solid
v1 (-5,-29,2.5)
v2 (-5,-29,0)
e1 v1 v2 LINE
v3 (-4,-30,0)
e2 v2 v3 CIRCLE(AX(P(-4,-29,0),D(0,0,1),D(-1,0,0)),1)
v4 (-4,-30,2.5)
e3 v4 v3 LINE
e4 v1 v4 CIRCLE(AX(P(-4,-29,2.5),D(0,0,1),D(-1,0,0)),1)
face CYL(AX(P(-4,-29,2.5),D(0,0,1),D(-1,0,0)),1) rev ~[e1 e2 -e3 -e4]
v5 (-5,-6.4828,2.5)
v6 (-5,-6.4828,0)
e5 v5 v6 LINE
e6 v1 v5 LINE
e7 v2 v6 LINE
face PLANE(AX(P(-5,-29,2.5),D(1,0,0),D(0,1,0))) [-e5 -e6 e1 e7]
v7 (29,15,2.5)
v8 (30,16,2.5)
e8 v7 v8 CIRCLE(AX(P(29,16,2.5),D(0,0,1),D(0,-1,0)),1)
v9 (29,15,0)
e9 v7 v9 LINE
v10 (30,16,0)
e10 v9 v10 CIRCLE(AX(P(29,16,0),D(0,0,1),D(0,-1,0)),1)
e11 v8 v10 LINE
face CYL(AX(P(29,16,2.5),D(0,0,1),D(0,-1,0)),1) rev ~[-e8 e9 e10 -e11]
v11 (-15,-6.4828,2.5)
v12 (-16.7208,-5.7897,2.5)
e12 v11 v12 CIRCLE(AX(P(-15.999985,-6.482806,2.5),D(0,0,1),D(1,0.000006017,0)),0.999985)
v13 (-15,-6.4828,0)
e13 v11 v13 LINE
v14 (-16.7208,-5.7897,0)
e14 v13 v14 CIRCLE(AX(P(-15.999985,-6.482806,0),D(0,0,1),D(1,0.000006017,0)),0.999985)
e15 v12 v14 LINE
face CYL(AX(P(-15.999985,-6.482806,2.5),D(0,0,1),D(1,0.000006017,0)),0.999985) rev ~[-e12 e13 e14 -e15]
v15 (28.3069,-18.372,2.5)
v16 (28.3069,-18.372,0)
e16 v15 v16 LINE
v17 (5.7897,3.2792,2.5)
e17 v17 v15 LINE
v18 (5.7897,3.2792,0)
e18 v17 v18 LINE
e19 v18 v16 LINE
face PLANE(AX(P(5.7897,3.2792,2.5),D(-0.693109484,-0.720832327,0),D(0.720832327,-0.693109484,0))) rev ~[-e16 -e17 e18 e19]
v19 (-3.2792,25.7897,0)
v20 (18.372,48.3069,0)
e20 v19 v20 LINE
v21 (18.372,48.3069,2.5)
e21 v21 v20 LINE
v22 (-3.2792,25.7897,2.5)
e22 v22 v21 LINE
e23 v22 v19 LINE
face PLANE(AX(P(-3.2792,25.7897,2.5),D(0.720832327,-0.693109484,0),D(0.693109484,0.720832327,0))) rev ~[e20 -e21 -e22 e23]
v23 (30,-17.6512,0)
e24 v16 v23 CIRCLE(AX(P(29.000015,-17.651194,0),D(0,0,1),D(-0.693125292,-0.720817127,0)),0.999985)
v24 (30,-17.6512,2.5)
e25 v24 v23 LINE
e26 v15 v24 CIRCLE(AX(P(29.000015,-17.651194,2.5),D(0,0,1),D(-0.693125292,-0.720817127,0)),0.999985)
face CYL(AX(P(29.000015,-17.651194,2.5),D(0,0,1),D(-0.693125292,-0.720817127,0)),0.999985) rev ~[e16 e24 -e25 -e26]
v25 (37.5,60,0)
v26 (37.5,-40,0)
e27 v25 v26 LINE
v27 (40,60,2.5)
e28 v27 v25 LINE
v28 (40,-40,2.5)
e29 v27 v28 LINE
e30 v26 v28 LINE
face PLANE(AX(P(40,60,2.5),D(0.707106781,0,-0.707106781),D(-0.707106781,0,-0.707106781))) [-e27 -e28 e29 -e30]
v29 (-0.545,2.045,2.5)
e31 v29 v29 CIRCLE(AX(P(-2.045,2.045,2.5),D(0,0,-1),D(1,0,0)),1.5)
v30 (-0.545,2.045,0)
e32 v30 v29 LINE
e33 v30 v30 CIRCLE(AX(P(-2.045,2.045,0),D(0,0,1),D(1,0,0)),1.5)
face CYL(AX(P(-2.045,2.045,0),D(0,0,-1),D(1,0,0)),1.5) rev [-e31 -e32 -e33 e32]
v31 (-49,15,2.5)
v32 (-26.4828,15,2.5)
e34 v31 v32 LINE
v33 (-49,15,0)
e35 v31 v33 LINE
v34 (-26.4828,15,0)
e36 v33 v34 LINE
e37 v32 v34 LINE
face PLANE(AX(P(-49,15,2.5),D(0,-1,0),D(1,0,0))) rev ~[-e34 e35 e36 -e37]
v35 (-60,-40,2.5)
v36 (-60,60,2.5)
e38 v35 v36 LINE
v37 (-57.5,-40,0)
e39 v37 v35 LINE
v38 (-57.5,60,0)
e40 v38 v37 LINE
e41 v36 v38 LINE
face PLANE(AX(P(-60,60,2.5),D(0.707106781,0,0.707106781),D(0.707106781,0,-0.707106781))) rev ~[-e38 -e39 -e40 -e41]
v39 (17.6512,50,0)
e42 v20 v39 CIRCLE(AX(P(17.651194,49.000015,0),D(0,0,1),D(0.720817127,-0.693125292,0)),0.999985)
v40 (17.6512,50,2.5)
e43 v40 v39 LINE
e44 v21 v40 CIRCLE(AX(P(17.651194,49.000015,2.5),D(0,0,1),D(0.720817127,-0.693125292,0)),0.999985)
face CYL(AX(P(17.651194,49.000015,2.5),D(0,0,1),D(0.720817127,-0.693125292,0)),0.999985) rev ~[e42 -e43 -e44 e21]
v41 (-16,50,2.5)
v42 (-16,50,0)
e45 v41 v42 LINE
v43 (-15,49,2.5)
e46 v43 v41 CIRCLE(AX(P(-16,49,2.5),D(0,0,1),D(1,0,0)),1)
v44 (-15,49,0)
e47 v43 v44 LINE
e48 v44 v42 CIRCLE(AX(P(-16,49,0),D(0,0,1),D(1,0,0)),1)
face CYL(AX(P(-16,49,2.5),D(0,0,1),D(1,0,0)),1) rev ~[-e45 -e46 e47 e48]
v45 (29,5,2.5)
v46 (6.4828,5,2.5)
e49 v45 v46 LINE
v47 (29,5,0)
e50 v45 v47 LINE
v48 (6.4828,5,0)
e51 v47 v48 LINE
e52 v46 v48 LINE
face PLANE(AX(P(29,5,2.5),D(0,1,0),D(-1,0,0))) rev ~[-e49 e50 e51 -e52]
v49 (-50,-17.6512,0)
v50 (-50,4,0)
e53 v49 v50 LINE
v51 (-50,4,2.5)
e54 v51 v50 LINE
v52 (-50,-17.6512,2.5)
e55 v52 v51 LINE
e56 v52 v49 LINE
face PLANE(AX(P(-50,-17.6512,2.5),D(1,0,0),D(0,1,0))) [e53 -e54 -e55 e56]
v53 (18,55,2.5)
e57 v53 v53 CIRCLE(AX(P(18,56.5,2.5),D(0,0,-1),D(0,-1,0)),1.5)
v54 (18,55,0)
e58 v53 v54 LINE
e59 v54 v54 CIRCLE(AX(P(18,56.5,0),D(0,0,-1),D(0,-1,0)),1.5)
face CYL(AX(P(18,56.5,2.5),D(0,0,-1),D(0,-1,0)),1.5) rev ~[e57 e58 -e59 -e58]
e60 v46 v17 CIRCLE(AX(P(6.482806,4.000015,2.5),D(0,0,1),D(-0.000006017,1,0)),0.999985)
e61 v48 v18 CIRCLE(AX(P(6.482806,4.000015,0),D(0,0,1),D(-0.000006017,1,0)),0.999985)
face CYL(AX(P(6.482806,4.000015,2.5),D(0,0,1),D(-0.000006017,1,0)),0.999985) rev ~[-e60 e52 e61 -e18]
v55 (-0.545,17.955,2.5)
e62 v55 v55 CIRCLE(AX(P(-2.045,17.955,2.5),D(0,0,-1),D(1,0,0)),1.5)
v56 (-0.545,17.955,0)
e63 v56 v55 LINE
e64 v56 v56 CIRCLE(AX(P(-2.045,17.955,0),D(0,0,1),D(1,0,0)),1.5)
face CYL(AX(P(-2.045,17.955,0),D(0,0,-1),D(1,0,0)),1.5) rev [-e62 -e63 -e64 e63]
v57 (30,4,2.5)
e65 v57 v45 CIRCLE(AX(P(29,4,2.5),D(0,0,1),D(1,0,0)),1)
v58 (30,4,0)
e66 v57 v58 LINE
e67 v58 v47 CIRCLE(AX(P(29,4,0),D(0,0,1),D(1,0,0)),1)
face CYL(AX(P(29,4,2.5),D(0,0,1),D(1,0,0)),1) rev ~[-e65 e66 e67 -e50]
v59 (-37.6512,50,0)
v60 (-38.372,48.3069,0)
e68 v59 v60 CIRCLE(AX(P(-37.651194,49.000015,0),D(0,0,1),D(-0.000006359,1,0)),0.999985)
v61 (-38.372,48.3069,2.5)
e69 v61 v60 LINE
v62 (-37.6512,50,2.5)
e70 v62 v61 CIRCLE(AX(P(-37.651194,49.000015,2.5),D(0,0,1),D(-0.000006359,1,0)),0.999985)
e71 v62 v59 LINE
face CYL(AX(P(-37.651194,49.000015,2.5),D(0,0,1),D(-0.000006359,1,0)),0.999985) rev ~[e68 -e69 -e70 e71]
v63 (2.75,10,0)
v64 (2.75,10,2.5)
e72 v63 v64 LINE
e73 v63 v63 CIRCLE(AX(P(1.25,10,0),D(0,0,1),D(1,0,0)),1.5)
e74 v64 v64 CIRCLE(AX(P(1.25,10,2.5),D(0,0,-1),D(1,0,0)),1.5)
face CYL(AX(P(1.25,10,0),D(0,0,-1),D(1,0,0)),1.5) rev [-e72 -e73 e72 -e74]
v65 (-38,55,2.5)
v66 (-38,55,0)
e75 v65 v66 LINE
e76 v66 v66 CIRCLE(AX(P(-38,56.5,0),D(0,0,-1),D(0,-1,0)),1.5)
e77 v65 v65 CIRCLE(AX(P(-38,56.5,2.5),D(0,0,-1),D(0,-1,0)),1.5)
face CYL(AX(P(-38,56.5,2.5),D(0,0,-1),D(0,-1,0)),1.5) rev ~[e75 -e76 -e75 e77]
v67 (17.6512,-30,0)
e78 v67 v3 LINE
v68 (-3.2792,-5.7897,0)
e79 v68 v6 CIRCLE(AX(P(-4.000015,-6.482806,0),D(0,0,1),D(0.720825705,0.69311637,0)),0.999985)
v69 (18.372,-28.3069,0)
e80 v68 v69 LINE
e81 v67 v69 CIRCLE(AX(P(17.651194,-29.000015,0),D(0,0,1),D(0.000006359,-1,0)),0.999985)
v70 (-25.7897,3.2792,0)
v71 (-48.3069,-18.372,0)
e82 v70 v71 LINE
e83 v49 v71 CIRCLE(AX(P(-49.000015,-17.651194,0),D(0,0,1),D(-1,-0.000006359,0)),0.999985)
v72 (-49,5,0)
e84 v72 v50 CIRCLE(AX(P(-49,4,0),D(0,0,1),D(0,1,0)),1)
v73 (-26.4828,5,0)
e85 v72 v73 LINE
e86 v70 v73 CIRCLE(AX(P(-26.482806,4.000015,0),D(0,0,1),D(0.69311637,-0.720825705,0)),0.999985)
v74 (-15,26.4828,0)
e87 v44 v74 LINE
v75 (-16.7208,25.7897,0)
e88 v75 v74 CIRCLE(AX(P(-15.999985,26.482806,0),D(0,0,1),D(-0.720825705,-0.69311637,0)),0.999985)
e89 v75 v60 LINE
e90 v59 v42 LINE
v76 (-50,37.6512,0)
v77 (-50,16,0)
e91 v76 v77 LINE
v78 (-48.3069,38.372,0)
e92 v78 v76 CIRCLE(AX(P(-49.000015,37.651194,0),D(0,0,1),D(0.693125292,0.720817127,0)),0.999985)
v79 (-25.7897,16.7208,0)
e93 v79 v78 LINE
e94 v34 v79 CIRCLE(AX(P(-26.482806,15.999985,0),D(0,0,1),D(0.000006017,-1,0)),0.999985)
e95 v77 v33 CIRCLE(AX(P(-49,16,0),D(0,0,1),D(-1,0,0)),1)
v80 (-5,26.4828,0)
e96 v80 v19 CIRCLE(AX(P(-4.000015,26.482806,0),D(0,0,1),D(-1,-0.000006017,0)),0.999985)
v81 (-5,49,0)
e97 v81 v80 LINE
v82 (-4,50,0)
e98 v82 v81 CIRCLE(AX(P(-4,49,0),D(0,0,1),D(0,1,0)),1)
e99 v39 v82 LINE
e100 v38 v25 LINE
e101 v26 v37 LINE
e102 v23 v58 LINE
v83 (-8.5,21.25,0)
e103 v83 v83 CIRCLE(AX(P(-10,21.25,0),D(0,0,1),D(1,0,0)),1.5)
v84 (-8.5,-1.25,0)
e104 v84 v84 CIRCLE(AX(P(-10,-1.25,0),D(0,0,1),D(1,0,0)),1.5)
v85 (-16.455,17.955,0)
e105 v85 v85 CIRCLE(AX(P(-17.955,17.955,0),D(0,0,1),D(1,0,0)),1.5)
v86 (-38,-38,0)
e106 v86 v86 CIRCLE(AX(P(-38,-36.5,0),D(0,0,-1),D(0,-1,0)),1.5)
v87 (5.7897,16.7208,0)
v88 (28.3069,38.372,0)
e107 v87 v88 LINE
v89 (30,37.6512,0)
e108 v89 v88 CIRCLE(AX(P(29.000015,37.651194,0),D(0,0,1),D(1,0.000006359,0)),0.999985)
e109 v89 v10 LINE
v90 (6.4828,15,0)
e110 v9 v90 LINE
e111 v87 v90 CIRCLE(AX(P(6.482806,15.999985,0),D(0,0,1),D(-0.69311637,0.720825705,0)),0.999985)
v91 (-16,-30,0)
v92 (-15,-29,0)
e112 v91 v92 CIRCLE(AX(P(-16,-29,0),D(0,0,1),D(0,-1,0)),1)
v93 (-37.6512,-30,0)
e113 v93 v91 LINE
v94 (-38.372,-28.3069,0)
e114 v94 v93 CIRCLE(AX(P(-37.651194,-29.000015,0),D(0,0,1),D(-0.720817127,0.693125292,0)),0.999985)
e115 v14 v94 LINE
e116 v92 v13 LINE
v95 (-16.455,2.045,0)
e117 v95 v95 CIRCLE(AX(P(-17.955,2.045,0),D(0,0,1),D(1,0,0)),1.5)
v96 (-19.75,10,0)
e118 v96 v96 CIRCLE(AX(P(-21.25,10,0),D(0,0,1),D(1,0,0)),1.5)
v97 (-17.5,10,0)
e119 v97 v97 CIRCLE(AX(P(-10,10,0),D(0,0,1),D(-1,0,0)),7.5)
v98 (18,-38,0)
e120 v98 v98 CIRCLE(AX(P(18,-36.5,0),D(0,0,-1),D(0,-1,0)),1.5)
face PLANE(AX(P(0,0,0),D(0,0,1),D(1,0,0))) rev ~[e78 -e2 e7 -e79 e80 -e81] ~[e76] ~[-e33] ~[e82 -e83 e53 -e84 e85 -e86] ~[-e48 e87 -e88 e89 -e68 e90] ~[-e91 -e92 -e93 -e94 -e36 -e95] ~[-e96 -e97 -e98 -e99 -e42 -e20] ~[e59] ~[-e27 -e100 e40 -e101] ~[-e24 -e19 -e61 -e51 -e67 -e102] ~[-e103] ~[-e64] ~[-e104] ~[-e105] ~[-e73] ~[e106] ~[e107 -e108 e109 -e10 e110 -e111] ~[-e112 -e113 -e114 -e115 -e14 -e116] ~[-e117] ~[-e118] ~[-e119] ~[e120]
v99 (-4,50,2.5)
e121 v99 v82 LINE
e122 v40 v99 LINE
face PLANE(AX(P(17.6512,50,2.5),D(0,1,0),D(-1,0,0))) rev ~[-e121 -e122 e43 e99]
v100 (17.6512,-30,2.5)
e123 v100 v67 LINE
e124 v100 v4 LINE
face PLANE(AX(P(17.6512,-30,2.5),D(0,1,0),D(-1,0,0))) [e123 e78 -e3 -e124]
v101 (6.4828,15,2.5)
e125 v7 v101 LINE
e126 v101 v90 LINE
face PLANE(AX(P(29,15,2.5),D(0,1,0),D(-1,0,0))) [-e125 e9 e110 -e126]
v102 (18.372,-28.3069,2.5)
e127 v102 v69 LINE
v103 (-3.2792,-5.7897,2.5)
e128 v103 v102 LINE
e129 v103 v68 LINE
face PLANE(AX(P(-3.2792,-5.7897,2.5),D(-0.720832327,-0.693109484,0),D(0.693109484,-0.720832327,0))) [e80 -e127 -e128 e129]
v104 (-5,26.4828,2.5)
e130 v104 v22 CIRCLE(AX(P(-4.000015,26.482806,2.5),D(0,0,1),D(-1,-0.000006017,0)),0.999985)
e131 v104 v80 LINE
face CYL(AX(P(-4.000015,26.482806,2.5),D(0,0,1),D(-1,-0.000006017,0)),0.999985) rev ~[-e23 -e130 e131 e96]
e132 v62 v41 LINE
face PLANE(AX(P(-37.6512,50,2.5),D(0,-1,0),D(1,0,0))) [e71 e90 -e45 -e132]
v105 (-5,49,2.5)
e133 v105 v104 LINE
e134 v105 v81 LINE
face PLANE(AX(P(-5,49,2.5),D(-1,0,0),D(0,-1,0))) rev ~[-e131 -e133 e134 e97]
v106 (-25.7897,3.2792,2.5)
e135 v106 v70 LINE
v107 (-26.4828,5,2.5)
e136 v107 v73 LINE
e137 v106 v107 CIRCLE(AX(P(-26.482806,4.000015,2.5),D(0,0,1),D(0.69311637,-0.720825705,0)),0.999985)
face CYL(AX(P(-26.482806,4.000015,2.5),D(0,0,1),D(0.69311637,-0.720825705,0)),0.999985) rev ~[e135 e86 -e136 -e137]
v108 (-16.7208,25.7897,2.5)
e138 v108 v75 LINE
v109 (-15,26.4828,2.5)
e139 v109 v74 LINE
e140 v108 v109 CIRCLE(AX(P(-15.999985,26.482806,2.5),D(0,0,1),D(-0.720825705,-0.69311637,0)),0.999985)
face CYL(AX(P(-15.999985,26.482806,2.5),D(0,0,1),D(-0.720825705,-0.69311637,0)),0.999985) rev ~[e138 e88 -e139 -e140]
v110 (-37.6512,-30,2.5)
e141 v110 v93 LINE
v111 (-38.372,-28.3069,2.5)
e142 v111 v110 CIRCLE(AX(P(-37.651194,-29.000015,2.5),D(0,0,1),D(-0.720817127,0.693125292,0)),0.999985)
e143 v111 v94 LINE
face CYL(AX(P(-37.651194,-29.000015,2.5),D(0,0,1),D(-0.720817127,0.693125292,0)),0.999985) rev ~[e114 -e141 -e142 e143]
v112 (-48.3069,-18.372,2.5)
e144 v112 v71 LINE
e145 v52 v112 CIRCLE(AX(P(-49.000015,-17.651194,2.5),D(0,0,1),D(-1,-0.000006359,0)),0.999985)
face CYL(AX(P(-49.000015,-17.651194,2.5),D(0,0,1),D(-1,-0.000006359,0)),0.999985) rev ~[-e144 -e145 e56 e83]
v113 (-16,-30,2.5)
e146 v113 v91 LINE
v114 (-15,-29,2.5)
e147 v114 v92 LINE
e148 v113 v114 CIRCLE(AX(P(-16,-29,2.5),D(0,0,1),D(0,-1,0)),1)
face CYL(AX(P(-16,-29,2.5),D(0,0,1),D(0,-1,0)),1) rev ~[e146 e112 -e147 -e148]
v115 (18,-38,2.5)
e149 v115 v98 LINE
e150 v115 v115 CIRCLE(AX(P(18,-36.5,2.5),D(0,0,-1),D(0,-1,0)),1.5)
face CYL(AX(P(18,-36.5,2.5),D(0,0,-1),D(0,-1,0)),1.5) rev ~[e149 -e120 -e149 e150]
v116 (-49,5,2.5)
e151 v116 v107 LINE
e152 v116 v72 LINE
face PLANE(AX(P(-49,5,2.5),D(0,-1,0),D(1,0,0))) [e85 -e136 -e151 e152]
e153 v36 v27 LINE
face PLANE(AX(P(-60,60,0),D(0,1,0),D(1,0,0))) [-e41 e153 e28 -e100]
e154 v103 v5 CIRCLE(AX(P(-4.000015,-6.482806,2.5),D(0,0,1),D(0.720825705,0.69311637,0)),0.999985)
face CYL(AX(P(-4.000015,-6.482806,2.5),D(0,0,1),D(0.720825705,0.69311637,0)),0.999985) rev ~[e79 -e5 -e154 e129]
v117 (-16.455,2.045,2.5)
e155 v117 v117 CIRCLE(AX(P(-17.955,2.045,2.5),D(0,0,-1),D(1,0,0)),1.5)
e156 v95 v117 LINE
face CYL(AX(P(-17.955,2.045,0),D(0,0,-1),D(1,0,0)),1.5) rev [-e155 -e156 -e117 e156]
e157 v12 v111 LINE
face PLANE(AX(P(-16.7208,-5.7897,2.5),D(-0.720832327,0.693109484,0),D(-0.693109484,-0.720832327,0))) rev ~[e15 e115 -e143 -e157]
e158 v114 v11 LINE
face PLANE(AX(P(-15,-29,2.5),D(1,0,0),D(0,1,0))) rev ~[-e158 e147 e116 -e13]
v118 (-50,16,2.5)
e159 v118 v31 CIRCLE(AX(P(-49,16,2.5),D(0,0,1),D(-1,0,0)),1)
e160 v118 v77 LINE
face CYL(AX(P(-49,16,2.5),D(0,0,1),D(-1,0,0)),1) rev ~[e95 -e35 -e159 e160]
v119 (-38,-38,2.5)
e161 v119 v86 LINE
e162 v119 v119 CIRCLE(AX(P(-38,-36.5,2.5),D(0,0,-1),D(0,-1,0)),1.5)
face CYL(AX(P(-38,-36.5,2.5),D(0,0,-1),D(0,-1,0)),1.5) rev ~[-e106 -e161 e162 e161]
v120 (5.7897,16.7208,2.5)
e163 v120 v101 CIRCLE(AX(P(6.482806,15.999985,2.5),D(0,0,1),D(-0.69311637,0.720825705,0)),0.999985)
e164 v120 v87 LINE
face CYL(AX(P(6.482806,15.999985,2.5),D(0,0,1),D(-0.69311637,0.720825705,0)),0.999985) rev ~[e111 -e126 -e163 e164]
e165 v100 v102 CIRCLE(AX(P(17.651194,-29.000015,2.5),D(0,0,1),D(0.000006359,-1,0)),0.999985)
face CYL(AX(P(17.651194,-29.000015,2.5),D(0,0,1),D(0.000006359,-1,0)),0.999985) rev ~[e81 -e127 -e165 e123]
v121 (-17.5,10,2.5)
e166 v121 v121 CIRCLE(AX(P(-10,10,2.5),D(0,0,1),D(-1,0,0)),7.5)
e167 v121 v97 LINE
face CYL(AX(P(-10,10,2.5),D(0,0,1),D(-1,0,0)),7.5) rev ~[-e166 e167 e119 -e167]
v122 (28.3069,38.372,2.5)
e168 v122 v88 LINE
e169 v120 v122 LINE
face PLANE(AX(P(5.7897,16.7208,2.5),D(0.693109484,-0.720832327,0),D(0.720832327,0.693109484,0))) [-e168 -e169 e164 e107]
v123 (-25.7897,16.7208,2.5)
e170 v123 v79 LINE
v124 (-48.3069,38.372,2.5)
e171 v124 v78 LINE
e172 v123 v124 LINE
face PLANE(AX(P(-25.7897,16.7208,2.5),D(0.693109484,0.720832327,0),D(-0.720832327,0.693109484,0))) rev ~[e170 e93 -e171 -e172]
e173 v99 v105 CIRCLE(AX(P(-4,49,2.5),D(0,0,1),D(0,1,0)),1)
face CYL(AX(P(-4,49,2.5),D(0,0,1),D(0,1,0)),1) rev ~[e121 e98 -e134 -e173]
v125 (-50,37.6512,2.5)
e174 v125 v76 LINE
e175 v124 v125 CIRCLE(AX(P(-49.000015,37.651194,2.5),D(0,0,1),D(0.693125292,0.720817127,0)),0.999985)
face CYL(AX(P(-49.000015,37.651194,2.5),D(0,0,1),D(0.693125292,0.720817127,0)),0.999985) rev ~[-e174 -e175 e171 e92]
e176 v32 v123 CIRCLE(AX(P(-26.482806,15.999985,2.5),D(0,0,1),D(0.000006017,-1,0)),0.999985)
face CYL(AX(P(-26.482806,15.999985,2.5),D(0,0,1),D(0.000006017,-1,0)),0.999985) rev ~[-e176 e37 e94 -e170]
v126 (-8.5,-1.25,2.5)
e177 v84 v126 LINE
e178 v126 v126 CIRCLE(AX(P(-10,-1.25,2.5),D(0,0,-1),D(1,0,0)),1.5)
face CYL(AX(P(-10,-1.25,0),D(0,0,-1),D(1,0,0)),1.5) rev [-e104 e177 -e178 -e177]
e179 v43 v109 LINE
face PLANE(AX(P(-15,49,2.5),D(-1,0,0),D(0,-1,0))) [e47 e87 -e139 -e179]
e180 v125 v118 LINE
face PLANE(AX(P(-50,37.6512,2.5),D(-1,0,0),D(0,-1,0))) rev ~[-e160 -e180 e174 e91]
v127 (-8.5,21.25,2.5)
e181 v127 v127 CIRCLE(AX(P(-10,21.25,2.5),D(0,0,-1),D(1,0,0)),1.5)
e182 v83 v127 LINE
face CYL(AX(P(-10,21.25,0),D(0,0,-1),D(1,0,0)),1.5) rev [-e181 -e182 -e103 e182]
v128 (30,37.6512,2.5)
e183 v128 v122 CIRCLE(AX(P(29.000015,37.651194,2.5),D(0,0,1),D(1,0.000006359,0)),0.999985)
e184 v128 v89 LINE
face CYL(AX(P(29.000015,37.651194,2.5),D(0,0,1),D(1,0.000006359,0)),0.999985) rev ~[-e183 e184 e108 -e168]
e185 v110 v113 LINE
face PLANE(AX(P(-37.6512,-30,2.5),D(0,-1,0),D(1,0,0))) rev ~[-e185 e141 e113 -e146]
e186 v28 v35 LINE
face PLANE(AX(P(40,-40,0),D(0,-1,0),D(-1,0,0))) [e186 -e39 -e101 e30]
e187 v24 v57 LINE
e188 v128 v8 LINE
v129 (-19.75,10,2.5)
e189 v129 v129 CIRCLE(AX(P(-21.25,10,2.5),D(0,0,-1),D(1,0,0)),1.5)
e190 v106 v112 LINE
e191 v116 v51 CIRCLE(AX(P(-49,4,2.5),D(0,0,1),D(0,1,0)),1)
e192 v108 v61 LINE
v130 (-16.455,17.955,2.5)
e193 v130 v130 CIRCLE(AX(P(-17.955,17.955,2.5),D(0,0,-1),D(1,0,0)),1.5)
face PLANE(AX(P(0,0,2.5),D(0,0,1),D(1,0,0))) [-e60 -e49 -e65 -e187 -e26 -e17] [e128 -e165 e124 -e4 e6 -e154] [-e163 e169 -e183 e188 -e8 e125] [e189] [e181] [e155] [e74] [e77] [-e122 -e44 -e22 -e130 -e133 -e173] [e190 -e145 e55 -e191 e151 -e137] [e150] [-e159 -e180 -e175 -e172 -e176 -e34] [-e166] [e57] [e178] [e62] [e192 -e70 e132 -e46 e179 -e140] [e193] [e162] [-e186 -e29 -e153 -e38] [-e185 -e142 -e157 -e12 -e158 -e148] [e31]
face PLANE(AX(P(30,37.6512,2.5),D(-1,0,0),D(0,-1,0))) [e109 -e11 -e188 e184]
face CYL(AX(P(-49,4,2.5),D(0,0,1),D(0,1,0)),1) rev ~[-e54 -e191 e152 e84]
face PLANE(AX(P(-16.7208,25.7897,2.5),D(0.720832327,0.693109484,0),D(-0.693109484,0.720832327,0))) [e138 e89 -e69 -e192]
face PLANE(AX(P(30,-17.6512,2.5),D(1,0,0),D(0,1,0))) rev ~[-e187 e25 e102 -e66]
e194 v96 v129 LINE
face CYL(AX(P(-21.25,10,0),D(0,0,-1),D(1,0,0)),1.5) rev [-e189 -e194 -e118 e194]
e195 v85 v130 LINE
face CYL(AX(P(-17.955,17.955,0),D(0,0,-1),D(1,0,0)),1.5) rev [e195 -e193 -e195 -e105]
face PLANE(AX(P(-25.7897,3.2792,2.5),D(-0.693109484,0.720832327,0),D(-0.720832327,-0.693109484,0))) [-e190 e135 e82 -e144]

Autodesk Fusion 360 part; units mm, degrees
sketch "Sketch1" plane through (0, 0, 0) normal (0, 0, 1) x (1, 0, 0)
  line L0 (40, -40) -> (-60, -40)
  line L1 (-60, -40) -> (-60, 60)
  line L2 (-60, 60) -> (40, 60)
  line L3 (40, 60) -> (40, -40)
  dimension "d1" = 100
  dimension "d2" = 100
extrude "Extrude1" add sketch "Sketch1" along normal blind 2.5
sketch "Sketch2" plane through (0, 0, 2.5) normal (0, 0, 1) x (-1, 0, 0)
  line L0 (-40, -60) -> (60, -60)
  line L1 (60, -60) -> (60, 40)
  line L2 (60, 40) -> (-40, 40)
  line L3 (-40, 40) -> (-40, -60)
  point P0 (44.5, -10)
  point P1 (38, 36.5)
  point P2 (10, 36.5)
  point P3 (-18, 36.5)
  point P4 (-24.5, -10)
  point P5 (38, -56.5)
  point P6 (10, -56.5)
  point P7 (-18, -56.5)
  dimension "d7" = 50
  dimension "d11" = 50
  dimension "d12" = 28
  dimension "d13" = 28
  dimension "d14" = 3.5
  dimension "d15" = 3.5
  dimension "d16" = 3.5
  dimension "d17" = 50
  dimension "d25" = 50
  dimension "d26" = 28
  dimension "d27" = 28
  dimension "d28" = 3.5
  dimension "d29" = 3.5
  dimension "d30" = 3.5
  dimension "d34" = 15.5
  dimension "d35" = 15.5
hole "Hole1" at (-38, 56.5, 2.5) at (18, 56.5, 2.5) at (18, -36.5, 2.5) at (-38, -36.5, 2.5) direction (0, 0, -1) diameter 3 depth 10 tip angle 118
sketch "Sketch3" plane through (0, 0, 2.5) normal (0, 0, 1) x (-1, 0, 0)
  circle A0 centre (-18, 36.5) radius 1.5
  circle A1 centre (38, -56.5) radius 1.5
  circle A2 centre (-18, -56.5) radius 1.5
  circle A3 centre (38, 36.5) radius 1.5
  line L0 (-40, -60) -> (60, -60)
  line L1 (60, -60) -> (60, 40)
  line L2 (60, 40) -> (-40, 40)
  line L3 (-40, 40) -> (-40, -60)
  circle A4 centre (10, -10) radius 7.5
  dimension "d36" = 15
extrude "Extrude2" cut sketch "Sketch3" against normal blind 2.5 contours A4
sketch "Sketch4" plane through (0, 0, 0) normal (0, 0, 1) x (1, 0, 0)
  circle A0 centre (-10, 10) radius 15
  circle A1 centre (-10, 10) radius 7.5
  circle A2 centre (-10, 21.25) radius 1.5
  circle A3 centre (-2.045, 17.955) radius 1.5
  circle A4 centre (1.25, 10) radius 1.5
  circle A5 centre (-2.045, 2.045) radius 1.5
  circle A6 centre (-10, -1.25) radius 1.5
  circle A7 centre (-17.955, 2.045) radius 1.5
  circle A8 centre (-21.25, 10) radius 1.5
  circle A9 centre (-17.955, 17.955) radius 1.5
  point P0 (-10, 21.25)
  point P1 (-17.955, 17.955)
  point P2 (-21.25, 10)
  point P3 (-17.955, 2.045)
  point P4 (-10, -1.25)
  point P5 (-2.045, 2.045)
  point P6 (1.25, 10)
  point P7 (-2.045, 17.955)
  point P8 (-17.955, 17.955)
  point P9 (-21.25, 10)
  point P10 (-17.955, 2.045)
  point P11 (-10, -1.25)
  point P12 (-2.045, 2.045)
  point P13 (1.25, 10)
  point P14 (-2.045, 17.955)
  dimension "d39" = 30
  dimension "d40" = 11.25
  dimension "d42" = 360
  dimension "d46" = 3
  dimension "d47" = 3
  dimension "d48" = 3
  dimension "d49" = 3
  dimension "d50" = 3
  dimension "d51" = 3
  dimension "d52" = 3
  dimension "d53" = 3
extrude "Extrude3" cut sketch "Sketch4" along normal blind 9 contours A2 | A3 | A4 | A5 | A6 | A7 | A8 | A9
sketch "Sketch7" plane through (0, 0, 2.5) normal (0, 0, 1) x (-1, 0, 0)
  circle A0 centre (10, -21.25) radius 1.5
  circle A1 centre (10, 1.25) radius 1.5
  circle A2 centre (2.045, -2.045) radius 1.5
  circle A3 centre (17.955, -17.955) radius 1.5
  circle A4 centre (2.045, -17.955) radius 1.5
  circle A5 centre (17.955, -2.045) radius 1.5
  circle A6 centre (-1.25, -10) radius 1.5
  circle A7 centre (21.25, -10) radius 1.5
  circle A8 centre (10, -10) radius 7.5
  circle A9 centre (-18, 36.5) radius 1.5
  circle A10 centre (38, -56.5) radius 1.5
  circle A11 centre (-18, -56.5) radius 1.5
  circle A12 centre (38, 36.5) radius 1.5
  line L0 (-40, -60) -> (60, -60)
  line L1 (60, -60) -> (60, 40)
  line L2 (60, 40) -> (-40, 40)
  line L3 (-40, 40) -> (-40, -60)
  circle A13 centre (10, -10) radius 15
  dimension "d56" = 30
sketch "Sketch8" plane through (0, 0, 2.5) normal (0, 0, 1) x (-1, 0, 0)
  line L0 (10, -10) -> (10, 40)
  line L1 (10, 40) -> (10, -60)
sketch "Sketch9" plane through (0, 0, 2.5) normal (0, 0, 1) x (-1, 0, 0)
  line L0 (-40, -10) -> (60, -10)
sketch "Sketch10" plane through (0, 0, 2.5) normal (0, 0, 1) x (-1, 0, 0)
  line L0 (-40, 40) -> (60, -60)
sketch "Sketch11" plane through (0, 0, 0) normal (0, 0, 1) x (1, 0, 0)
  line L0 (-60, -40) -> (40, 60)
sketch "Sketch13" plane through (0, 0, 2.5) normal (0, 0, 1) x (-1, 0, 0)
  line L0 (-17.6512, 30) -> (4, 30)
  line L1 (5, 29) -> (5, 6.4828)
  line L2 (3.2792, 5.7897) -> (-18.372, 28.3069)
  arc A0 (-17.6512, 30) -> (-18.372, 28.3069) centre (-17.6512, 29) ccw
  arc A1 (5, 29) -> (4, 30) centre (4, 29) ccw
  arc A2 (3.2792, 5.7897) -> (5, 6.4828) centre (4, 6.4828) ccw
  line L3 (-40, 40) -> (60, -60)
  arc A3 (-6.4828, -5) -> (-5.7897, -3.2792) centre (-6.4828, -4) ccw
  line L4 (-29, -5) -> (-6.4828, -5)
  line L5 (-5.7897, -3.2792) -> (-28.3069, 18.372)
  arc A4 (-28.3069, 18.372) -> (-30, 17.6512) centre (-29, 17.6512) ccw
  line L6 (-30, 17.6512) -> (-30, -4)
  arc A5 (-30, -4) -> (-29, -5) centre (-29, -4) ccw
  line L7 (-40, -10) -> (60, -10)
  line L8 (-29, -15) -> (-6.4828, -15)
  arc A6 (-5.7897, -16.7208) -> (-6.4828, -15) centre (-6.4828, -16) ccw
  line L9 (-5.7897, -16.7208) -> (-28.3069, -38.372)
  arc A7 (-30, -37.6512) -> (-28.3069, -38.372) centre (-29, -37.6512) ccw
  line L10 (-30, -37.6512) -> (-30, -16)
  arc A8 (-29, -15) -> (-30, -16) centre (-29, -16) ccw
  line L11 (60, 40) -> (-40, -60)
  line L12 (5, -49) -> (5, -26.4828)
  arc A9 (4, -50) -> (5, -49) centre (4, -49) ccw
  arc A10 (5, -26.4828) -> (3.2792, -25.7897) centre (4, -26.4828) ccw
  line L13 (3.2792, -25.7897) -> (-18.372, -48.3069)
  line L14 (-17.6512, -50) -> (4, -50)
  arc A11 (-18.372, -48.3069) -> (-17.6512, -50) centre (-17.6512, -49) ccw
  line L15 (10, 40) -> (10, -60)
  arc A12 (16.7208, -25.7897) -> (15, -26.4828) centre (16, -26.4828) ccw
  line L16 (15, -49) -> (15, -26.4828)
  line L17 (16.7208, -25.7897) -> (38.372, -48.3069)
  line L18 (37.6512, -50) -> (16, -50)
  arc A13 (15, -49) -> (16, -50) centre (16, -49) ccw
  arc A14 (37.6512, -50) -> (38.372, -48.3069) centre (37.6512, -49) ccw
  arc A15 (26.4828, -15) -> (25.7897, -16.7208) centre (26.4828, -16) ccw
  line L19 (25.7897, -16.7208) -> (48.3069, -38.372)
  line L20 (49, -15) -> (26.4828, -15)
  arc A16 (50, -16) -> (49, -15) centre (49, -16) ccw
  line L21 (50, -37.6512) -> (50, -16)
  arc A17 (48.3069, -38.372) -> (50, -37.6512) centre (49, -37.6512) ccw
  line L22 (25.7897, -3.2792) -> (48.3069, 18.372)
  arc A18 (50, 17.6512) -> (48.3069, 18.372) centre (49, 17.6512) ccw
  line L23 (50, 17.6512) -> (50, -4)
  arc A19 (49, -5) -> (50, -4) centre (49, -4) ccw
  line L24 (49, -5) -> (26.4828, -5)
  arc A20 (25.7897, -3.2792) -> (26.4828, -5) centre (26.4828, -4) ccw
  line L25 (37.6512, 30) -> (16, 30)
  arc A21 (38.372, 28.3069) -> (37.6512, 30) centre (37.6512, 29) ccw
  line L26 (16.7208, 5.7897) -> (38.372, 28.3069)
  arc A22 (15, 6.4828) -> (16.7208, 5.7897) centre (16, 6.4828) ccw
  line L27 (15, 29) -> (15, 6.4828)
  arc A23 (16, 30) -> (15, 29) centre (16, 29) ccw
  point P0 (-20, 30)
  point P1 (5, 30)
  point P2 (5, 4)
  dimension "d57" = 1
extrude "Extrude7" cut sketch "Sketch13" against normal blind 5
sketch "Sketch14" plane through (0, 60, 0) normal (0, 1, 0) x (-1, 0, 0)
  line L0 (-40, 0) -> (60, 0)
  line L1 (60, 0) -> (60, 2.5)
  line L2 (60, 2.5) -> (-40, 2.5)
  line L3 (-40, 2.5) -> (-40, 0)
  line L4 (-40, 2.5) -> (-37.5, 0)
  point P0 (-40, 2.5)
  point P1 (-40, 0)
  point P2 (-37.5, 0)
  point P3 (-40, 0)
  dimension "d60" = 2.5
extrude "Extrude5" cut sketch "Sketch14" against normal blind 104 contours L0 L3 L4
sketch "Sketch15" plane through (0, 60, 0) normal (0, 1, 0) x (-1, 0, 0)
  line L0 (-40, 2.5) -> (-37.5, 0)
  line L1 (-37.5, 0) -> (60, 0)
  line L2 (60, 0) -> (60, 2.5)
  line L3 (60, 2.5) -> (-40, 2.5)
  line L4 (60, 2.5) -> (57.5, 0)
  point P0 (60, 2.5)
  point P1 (60, 0)
  point P2 (57.5, 0)
  point P3 (60, 0)
  dimension "d63" = 2.5
extrude "Extrude6" cut sketch "Sketch15" against normal blind 105 contours L1 L2 L4
sketch "Sketch16" plane through (0, 0, 2.5) normal (0, 0, 1) x (-1, 0, 0)
sketch "Sketch17" plane through (0, 0, 2.5) normal (0, 0, 1) x (-1, 0, 0)
